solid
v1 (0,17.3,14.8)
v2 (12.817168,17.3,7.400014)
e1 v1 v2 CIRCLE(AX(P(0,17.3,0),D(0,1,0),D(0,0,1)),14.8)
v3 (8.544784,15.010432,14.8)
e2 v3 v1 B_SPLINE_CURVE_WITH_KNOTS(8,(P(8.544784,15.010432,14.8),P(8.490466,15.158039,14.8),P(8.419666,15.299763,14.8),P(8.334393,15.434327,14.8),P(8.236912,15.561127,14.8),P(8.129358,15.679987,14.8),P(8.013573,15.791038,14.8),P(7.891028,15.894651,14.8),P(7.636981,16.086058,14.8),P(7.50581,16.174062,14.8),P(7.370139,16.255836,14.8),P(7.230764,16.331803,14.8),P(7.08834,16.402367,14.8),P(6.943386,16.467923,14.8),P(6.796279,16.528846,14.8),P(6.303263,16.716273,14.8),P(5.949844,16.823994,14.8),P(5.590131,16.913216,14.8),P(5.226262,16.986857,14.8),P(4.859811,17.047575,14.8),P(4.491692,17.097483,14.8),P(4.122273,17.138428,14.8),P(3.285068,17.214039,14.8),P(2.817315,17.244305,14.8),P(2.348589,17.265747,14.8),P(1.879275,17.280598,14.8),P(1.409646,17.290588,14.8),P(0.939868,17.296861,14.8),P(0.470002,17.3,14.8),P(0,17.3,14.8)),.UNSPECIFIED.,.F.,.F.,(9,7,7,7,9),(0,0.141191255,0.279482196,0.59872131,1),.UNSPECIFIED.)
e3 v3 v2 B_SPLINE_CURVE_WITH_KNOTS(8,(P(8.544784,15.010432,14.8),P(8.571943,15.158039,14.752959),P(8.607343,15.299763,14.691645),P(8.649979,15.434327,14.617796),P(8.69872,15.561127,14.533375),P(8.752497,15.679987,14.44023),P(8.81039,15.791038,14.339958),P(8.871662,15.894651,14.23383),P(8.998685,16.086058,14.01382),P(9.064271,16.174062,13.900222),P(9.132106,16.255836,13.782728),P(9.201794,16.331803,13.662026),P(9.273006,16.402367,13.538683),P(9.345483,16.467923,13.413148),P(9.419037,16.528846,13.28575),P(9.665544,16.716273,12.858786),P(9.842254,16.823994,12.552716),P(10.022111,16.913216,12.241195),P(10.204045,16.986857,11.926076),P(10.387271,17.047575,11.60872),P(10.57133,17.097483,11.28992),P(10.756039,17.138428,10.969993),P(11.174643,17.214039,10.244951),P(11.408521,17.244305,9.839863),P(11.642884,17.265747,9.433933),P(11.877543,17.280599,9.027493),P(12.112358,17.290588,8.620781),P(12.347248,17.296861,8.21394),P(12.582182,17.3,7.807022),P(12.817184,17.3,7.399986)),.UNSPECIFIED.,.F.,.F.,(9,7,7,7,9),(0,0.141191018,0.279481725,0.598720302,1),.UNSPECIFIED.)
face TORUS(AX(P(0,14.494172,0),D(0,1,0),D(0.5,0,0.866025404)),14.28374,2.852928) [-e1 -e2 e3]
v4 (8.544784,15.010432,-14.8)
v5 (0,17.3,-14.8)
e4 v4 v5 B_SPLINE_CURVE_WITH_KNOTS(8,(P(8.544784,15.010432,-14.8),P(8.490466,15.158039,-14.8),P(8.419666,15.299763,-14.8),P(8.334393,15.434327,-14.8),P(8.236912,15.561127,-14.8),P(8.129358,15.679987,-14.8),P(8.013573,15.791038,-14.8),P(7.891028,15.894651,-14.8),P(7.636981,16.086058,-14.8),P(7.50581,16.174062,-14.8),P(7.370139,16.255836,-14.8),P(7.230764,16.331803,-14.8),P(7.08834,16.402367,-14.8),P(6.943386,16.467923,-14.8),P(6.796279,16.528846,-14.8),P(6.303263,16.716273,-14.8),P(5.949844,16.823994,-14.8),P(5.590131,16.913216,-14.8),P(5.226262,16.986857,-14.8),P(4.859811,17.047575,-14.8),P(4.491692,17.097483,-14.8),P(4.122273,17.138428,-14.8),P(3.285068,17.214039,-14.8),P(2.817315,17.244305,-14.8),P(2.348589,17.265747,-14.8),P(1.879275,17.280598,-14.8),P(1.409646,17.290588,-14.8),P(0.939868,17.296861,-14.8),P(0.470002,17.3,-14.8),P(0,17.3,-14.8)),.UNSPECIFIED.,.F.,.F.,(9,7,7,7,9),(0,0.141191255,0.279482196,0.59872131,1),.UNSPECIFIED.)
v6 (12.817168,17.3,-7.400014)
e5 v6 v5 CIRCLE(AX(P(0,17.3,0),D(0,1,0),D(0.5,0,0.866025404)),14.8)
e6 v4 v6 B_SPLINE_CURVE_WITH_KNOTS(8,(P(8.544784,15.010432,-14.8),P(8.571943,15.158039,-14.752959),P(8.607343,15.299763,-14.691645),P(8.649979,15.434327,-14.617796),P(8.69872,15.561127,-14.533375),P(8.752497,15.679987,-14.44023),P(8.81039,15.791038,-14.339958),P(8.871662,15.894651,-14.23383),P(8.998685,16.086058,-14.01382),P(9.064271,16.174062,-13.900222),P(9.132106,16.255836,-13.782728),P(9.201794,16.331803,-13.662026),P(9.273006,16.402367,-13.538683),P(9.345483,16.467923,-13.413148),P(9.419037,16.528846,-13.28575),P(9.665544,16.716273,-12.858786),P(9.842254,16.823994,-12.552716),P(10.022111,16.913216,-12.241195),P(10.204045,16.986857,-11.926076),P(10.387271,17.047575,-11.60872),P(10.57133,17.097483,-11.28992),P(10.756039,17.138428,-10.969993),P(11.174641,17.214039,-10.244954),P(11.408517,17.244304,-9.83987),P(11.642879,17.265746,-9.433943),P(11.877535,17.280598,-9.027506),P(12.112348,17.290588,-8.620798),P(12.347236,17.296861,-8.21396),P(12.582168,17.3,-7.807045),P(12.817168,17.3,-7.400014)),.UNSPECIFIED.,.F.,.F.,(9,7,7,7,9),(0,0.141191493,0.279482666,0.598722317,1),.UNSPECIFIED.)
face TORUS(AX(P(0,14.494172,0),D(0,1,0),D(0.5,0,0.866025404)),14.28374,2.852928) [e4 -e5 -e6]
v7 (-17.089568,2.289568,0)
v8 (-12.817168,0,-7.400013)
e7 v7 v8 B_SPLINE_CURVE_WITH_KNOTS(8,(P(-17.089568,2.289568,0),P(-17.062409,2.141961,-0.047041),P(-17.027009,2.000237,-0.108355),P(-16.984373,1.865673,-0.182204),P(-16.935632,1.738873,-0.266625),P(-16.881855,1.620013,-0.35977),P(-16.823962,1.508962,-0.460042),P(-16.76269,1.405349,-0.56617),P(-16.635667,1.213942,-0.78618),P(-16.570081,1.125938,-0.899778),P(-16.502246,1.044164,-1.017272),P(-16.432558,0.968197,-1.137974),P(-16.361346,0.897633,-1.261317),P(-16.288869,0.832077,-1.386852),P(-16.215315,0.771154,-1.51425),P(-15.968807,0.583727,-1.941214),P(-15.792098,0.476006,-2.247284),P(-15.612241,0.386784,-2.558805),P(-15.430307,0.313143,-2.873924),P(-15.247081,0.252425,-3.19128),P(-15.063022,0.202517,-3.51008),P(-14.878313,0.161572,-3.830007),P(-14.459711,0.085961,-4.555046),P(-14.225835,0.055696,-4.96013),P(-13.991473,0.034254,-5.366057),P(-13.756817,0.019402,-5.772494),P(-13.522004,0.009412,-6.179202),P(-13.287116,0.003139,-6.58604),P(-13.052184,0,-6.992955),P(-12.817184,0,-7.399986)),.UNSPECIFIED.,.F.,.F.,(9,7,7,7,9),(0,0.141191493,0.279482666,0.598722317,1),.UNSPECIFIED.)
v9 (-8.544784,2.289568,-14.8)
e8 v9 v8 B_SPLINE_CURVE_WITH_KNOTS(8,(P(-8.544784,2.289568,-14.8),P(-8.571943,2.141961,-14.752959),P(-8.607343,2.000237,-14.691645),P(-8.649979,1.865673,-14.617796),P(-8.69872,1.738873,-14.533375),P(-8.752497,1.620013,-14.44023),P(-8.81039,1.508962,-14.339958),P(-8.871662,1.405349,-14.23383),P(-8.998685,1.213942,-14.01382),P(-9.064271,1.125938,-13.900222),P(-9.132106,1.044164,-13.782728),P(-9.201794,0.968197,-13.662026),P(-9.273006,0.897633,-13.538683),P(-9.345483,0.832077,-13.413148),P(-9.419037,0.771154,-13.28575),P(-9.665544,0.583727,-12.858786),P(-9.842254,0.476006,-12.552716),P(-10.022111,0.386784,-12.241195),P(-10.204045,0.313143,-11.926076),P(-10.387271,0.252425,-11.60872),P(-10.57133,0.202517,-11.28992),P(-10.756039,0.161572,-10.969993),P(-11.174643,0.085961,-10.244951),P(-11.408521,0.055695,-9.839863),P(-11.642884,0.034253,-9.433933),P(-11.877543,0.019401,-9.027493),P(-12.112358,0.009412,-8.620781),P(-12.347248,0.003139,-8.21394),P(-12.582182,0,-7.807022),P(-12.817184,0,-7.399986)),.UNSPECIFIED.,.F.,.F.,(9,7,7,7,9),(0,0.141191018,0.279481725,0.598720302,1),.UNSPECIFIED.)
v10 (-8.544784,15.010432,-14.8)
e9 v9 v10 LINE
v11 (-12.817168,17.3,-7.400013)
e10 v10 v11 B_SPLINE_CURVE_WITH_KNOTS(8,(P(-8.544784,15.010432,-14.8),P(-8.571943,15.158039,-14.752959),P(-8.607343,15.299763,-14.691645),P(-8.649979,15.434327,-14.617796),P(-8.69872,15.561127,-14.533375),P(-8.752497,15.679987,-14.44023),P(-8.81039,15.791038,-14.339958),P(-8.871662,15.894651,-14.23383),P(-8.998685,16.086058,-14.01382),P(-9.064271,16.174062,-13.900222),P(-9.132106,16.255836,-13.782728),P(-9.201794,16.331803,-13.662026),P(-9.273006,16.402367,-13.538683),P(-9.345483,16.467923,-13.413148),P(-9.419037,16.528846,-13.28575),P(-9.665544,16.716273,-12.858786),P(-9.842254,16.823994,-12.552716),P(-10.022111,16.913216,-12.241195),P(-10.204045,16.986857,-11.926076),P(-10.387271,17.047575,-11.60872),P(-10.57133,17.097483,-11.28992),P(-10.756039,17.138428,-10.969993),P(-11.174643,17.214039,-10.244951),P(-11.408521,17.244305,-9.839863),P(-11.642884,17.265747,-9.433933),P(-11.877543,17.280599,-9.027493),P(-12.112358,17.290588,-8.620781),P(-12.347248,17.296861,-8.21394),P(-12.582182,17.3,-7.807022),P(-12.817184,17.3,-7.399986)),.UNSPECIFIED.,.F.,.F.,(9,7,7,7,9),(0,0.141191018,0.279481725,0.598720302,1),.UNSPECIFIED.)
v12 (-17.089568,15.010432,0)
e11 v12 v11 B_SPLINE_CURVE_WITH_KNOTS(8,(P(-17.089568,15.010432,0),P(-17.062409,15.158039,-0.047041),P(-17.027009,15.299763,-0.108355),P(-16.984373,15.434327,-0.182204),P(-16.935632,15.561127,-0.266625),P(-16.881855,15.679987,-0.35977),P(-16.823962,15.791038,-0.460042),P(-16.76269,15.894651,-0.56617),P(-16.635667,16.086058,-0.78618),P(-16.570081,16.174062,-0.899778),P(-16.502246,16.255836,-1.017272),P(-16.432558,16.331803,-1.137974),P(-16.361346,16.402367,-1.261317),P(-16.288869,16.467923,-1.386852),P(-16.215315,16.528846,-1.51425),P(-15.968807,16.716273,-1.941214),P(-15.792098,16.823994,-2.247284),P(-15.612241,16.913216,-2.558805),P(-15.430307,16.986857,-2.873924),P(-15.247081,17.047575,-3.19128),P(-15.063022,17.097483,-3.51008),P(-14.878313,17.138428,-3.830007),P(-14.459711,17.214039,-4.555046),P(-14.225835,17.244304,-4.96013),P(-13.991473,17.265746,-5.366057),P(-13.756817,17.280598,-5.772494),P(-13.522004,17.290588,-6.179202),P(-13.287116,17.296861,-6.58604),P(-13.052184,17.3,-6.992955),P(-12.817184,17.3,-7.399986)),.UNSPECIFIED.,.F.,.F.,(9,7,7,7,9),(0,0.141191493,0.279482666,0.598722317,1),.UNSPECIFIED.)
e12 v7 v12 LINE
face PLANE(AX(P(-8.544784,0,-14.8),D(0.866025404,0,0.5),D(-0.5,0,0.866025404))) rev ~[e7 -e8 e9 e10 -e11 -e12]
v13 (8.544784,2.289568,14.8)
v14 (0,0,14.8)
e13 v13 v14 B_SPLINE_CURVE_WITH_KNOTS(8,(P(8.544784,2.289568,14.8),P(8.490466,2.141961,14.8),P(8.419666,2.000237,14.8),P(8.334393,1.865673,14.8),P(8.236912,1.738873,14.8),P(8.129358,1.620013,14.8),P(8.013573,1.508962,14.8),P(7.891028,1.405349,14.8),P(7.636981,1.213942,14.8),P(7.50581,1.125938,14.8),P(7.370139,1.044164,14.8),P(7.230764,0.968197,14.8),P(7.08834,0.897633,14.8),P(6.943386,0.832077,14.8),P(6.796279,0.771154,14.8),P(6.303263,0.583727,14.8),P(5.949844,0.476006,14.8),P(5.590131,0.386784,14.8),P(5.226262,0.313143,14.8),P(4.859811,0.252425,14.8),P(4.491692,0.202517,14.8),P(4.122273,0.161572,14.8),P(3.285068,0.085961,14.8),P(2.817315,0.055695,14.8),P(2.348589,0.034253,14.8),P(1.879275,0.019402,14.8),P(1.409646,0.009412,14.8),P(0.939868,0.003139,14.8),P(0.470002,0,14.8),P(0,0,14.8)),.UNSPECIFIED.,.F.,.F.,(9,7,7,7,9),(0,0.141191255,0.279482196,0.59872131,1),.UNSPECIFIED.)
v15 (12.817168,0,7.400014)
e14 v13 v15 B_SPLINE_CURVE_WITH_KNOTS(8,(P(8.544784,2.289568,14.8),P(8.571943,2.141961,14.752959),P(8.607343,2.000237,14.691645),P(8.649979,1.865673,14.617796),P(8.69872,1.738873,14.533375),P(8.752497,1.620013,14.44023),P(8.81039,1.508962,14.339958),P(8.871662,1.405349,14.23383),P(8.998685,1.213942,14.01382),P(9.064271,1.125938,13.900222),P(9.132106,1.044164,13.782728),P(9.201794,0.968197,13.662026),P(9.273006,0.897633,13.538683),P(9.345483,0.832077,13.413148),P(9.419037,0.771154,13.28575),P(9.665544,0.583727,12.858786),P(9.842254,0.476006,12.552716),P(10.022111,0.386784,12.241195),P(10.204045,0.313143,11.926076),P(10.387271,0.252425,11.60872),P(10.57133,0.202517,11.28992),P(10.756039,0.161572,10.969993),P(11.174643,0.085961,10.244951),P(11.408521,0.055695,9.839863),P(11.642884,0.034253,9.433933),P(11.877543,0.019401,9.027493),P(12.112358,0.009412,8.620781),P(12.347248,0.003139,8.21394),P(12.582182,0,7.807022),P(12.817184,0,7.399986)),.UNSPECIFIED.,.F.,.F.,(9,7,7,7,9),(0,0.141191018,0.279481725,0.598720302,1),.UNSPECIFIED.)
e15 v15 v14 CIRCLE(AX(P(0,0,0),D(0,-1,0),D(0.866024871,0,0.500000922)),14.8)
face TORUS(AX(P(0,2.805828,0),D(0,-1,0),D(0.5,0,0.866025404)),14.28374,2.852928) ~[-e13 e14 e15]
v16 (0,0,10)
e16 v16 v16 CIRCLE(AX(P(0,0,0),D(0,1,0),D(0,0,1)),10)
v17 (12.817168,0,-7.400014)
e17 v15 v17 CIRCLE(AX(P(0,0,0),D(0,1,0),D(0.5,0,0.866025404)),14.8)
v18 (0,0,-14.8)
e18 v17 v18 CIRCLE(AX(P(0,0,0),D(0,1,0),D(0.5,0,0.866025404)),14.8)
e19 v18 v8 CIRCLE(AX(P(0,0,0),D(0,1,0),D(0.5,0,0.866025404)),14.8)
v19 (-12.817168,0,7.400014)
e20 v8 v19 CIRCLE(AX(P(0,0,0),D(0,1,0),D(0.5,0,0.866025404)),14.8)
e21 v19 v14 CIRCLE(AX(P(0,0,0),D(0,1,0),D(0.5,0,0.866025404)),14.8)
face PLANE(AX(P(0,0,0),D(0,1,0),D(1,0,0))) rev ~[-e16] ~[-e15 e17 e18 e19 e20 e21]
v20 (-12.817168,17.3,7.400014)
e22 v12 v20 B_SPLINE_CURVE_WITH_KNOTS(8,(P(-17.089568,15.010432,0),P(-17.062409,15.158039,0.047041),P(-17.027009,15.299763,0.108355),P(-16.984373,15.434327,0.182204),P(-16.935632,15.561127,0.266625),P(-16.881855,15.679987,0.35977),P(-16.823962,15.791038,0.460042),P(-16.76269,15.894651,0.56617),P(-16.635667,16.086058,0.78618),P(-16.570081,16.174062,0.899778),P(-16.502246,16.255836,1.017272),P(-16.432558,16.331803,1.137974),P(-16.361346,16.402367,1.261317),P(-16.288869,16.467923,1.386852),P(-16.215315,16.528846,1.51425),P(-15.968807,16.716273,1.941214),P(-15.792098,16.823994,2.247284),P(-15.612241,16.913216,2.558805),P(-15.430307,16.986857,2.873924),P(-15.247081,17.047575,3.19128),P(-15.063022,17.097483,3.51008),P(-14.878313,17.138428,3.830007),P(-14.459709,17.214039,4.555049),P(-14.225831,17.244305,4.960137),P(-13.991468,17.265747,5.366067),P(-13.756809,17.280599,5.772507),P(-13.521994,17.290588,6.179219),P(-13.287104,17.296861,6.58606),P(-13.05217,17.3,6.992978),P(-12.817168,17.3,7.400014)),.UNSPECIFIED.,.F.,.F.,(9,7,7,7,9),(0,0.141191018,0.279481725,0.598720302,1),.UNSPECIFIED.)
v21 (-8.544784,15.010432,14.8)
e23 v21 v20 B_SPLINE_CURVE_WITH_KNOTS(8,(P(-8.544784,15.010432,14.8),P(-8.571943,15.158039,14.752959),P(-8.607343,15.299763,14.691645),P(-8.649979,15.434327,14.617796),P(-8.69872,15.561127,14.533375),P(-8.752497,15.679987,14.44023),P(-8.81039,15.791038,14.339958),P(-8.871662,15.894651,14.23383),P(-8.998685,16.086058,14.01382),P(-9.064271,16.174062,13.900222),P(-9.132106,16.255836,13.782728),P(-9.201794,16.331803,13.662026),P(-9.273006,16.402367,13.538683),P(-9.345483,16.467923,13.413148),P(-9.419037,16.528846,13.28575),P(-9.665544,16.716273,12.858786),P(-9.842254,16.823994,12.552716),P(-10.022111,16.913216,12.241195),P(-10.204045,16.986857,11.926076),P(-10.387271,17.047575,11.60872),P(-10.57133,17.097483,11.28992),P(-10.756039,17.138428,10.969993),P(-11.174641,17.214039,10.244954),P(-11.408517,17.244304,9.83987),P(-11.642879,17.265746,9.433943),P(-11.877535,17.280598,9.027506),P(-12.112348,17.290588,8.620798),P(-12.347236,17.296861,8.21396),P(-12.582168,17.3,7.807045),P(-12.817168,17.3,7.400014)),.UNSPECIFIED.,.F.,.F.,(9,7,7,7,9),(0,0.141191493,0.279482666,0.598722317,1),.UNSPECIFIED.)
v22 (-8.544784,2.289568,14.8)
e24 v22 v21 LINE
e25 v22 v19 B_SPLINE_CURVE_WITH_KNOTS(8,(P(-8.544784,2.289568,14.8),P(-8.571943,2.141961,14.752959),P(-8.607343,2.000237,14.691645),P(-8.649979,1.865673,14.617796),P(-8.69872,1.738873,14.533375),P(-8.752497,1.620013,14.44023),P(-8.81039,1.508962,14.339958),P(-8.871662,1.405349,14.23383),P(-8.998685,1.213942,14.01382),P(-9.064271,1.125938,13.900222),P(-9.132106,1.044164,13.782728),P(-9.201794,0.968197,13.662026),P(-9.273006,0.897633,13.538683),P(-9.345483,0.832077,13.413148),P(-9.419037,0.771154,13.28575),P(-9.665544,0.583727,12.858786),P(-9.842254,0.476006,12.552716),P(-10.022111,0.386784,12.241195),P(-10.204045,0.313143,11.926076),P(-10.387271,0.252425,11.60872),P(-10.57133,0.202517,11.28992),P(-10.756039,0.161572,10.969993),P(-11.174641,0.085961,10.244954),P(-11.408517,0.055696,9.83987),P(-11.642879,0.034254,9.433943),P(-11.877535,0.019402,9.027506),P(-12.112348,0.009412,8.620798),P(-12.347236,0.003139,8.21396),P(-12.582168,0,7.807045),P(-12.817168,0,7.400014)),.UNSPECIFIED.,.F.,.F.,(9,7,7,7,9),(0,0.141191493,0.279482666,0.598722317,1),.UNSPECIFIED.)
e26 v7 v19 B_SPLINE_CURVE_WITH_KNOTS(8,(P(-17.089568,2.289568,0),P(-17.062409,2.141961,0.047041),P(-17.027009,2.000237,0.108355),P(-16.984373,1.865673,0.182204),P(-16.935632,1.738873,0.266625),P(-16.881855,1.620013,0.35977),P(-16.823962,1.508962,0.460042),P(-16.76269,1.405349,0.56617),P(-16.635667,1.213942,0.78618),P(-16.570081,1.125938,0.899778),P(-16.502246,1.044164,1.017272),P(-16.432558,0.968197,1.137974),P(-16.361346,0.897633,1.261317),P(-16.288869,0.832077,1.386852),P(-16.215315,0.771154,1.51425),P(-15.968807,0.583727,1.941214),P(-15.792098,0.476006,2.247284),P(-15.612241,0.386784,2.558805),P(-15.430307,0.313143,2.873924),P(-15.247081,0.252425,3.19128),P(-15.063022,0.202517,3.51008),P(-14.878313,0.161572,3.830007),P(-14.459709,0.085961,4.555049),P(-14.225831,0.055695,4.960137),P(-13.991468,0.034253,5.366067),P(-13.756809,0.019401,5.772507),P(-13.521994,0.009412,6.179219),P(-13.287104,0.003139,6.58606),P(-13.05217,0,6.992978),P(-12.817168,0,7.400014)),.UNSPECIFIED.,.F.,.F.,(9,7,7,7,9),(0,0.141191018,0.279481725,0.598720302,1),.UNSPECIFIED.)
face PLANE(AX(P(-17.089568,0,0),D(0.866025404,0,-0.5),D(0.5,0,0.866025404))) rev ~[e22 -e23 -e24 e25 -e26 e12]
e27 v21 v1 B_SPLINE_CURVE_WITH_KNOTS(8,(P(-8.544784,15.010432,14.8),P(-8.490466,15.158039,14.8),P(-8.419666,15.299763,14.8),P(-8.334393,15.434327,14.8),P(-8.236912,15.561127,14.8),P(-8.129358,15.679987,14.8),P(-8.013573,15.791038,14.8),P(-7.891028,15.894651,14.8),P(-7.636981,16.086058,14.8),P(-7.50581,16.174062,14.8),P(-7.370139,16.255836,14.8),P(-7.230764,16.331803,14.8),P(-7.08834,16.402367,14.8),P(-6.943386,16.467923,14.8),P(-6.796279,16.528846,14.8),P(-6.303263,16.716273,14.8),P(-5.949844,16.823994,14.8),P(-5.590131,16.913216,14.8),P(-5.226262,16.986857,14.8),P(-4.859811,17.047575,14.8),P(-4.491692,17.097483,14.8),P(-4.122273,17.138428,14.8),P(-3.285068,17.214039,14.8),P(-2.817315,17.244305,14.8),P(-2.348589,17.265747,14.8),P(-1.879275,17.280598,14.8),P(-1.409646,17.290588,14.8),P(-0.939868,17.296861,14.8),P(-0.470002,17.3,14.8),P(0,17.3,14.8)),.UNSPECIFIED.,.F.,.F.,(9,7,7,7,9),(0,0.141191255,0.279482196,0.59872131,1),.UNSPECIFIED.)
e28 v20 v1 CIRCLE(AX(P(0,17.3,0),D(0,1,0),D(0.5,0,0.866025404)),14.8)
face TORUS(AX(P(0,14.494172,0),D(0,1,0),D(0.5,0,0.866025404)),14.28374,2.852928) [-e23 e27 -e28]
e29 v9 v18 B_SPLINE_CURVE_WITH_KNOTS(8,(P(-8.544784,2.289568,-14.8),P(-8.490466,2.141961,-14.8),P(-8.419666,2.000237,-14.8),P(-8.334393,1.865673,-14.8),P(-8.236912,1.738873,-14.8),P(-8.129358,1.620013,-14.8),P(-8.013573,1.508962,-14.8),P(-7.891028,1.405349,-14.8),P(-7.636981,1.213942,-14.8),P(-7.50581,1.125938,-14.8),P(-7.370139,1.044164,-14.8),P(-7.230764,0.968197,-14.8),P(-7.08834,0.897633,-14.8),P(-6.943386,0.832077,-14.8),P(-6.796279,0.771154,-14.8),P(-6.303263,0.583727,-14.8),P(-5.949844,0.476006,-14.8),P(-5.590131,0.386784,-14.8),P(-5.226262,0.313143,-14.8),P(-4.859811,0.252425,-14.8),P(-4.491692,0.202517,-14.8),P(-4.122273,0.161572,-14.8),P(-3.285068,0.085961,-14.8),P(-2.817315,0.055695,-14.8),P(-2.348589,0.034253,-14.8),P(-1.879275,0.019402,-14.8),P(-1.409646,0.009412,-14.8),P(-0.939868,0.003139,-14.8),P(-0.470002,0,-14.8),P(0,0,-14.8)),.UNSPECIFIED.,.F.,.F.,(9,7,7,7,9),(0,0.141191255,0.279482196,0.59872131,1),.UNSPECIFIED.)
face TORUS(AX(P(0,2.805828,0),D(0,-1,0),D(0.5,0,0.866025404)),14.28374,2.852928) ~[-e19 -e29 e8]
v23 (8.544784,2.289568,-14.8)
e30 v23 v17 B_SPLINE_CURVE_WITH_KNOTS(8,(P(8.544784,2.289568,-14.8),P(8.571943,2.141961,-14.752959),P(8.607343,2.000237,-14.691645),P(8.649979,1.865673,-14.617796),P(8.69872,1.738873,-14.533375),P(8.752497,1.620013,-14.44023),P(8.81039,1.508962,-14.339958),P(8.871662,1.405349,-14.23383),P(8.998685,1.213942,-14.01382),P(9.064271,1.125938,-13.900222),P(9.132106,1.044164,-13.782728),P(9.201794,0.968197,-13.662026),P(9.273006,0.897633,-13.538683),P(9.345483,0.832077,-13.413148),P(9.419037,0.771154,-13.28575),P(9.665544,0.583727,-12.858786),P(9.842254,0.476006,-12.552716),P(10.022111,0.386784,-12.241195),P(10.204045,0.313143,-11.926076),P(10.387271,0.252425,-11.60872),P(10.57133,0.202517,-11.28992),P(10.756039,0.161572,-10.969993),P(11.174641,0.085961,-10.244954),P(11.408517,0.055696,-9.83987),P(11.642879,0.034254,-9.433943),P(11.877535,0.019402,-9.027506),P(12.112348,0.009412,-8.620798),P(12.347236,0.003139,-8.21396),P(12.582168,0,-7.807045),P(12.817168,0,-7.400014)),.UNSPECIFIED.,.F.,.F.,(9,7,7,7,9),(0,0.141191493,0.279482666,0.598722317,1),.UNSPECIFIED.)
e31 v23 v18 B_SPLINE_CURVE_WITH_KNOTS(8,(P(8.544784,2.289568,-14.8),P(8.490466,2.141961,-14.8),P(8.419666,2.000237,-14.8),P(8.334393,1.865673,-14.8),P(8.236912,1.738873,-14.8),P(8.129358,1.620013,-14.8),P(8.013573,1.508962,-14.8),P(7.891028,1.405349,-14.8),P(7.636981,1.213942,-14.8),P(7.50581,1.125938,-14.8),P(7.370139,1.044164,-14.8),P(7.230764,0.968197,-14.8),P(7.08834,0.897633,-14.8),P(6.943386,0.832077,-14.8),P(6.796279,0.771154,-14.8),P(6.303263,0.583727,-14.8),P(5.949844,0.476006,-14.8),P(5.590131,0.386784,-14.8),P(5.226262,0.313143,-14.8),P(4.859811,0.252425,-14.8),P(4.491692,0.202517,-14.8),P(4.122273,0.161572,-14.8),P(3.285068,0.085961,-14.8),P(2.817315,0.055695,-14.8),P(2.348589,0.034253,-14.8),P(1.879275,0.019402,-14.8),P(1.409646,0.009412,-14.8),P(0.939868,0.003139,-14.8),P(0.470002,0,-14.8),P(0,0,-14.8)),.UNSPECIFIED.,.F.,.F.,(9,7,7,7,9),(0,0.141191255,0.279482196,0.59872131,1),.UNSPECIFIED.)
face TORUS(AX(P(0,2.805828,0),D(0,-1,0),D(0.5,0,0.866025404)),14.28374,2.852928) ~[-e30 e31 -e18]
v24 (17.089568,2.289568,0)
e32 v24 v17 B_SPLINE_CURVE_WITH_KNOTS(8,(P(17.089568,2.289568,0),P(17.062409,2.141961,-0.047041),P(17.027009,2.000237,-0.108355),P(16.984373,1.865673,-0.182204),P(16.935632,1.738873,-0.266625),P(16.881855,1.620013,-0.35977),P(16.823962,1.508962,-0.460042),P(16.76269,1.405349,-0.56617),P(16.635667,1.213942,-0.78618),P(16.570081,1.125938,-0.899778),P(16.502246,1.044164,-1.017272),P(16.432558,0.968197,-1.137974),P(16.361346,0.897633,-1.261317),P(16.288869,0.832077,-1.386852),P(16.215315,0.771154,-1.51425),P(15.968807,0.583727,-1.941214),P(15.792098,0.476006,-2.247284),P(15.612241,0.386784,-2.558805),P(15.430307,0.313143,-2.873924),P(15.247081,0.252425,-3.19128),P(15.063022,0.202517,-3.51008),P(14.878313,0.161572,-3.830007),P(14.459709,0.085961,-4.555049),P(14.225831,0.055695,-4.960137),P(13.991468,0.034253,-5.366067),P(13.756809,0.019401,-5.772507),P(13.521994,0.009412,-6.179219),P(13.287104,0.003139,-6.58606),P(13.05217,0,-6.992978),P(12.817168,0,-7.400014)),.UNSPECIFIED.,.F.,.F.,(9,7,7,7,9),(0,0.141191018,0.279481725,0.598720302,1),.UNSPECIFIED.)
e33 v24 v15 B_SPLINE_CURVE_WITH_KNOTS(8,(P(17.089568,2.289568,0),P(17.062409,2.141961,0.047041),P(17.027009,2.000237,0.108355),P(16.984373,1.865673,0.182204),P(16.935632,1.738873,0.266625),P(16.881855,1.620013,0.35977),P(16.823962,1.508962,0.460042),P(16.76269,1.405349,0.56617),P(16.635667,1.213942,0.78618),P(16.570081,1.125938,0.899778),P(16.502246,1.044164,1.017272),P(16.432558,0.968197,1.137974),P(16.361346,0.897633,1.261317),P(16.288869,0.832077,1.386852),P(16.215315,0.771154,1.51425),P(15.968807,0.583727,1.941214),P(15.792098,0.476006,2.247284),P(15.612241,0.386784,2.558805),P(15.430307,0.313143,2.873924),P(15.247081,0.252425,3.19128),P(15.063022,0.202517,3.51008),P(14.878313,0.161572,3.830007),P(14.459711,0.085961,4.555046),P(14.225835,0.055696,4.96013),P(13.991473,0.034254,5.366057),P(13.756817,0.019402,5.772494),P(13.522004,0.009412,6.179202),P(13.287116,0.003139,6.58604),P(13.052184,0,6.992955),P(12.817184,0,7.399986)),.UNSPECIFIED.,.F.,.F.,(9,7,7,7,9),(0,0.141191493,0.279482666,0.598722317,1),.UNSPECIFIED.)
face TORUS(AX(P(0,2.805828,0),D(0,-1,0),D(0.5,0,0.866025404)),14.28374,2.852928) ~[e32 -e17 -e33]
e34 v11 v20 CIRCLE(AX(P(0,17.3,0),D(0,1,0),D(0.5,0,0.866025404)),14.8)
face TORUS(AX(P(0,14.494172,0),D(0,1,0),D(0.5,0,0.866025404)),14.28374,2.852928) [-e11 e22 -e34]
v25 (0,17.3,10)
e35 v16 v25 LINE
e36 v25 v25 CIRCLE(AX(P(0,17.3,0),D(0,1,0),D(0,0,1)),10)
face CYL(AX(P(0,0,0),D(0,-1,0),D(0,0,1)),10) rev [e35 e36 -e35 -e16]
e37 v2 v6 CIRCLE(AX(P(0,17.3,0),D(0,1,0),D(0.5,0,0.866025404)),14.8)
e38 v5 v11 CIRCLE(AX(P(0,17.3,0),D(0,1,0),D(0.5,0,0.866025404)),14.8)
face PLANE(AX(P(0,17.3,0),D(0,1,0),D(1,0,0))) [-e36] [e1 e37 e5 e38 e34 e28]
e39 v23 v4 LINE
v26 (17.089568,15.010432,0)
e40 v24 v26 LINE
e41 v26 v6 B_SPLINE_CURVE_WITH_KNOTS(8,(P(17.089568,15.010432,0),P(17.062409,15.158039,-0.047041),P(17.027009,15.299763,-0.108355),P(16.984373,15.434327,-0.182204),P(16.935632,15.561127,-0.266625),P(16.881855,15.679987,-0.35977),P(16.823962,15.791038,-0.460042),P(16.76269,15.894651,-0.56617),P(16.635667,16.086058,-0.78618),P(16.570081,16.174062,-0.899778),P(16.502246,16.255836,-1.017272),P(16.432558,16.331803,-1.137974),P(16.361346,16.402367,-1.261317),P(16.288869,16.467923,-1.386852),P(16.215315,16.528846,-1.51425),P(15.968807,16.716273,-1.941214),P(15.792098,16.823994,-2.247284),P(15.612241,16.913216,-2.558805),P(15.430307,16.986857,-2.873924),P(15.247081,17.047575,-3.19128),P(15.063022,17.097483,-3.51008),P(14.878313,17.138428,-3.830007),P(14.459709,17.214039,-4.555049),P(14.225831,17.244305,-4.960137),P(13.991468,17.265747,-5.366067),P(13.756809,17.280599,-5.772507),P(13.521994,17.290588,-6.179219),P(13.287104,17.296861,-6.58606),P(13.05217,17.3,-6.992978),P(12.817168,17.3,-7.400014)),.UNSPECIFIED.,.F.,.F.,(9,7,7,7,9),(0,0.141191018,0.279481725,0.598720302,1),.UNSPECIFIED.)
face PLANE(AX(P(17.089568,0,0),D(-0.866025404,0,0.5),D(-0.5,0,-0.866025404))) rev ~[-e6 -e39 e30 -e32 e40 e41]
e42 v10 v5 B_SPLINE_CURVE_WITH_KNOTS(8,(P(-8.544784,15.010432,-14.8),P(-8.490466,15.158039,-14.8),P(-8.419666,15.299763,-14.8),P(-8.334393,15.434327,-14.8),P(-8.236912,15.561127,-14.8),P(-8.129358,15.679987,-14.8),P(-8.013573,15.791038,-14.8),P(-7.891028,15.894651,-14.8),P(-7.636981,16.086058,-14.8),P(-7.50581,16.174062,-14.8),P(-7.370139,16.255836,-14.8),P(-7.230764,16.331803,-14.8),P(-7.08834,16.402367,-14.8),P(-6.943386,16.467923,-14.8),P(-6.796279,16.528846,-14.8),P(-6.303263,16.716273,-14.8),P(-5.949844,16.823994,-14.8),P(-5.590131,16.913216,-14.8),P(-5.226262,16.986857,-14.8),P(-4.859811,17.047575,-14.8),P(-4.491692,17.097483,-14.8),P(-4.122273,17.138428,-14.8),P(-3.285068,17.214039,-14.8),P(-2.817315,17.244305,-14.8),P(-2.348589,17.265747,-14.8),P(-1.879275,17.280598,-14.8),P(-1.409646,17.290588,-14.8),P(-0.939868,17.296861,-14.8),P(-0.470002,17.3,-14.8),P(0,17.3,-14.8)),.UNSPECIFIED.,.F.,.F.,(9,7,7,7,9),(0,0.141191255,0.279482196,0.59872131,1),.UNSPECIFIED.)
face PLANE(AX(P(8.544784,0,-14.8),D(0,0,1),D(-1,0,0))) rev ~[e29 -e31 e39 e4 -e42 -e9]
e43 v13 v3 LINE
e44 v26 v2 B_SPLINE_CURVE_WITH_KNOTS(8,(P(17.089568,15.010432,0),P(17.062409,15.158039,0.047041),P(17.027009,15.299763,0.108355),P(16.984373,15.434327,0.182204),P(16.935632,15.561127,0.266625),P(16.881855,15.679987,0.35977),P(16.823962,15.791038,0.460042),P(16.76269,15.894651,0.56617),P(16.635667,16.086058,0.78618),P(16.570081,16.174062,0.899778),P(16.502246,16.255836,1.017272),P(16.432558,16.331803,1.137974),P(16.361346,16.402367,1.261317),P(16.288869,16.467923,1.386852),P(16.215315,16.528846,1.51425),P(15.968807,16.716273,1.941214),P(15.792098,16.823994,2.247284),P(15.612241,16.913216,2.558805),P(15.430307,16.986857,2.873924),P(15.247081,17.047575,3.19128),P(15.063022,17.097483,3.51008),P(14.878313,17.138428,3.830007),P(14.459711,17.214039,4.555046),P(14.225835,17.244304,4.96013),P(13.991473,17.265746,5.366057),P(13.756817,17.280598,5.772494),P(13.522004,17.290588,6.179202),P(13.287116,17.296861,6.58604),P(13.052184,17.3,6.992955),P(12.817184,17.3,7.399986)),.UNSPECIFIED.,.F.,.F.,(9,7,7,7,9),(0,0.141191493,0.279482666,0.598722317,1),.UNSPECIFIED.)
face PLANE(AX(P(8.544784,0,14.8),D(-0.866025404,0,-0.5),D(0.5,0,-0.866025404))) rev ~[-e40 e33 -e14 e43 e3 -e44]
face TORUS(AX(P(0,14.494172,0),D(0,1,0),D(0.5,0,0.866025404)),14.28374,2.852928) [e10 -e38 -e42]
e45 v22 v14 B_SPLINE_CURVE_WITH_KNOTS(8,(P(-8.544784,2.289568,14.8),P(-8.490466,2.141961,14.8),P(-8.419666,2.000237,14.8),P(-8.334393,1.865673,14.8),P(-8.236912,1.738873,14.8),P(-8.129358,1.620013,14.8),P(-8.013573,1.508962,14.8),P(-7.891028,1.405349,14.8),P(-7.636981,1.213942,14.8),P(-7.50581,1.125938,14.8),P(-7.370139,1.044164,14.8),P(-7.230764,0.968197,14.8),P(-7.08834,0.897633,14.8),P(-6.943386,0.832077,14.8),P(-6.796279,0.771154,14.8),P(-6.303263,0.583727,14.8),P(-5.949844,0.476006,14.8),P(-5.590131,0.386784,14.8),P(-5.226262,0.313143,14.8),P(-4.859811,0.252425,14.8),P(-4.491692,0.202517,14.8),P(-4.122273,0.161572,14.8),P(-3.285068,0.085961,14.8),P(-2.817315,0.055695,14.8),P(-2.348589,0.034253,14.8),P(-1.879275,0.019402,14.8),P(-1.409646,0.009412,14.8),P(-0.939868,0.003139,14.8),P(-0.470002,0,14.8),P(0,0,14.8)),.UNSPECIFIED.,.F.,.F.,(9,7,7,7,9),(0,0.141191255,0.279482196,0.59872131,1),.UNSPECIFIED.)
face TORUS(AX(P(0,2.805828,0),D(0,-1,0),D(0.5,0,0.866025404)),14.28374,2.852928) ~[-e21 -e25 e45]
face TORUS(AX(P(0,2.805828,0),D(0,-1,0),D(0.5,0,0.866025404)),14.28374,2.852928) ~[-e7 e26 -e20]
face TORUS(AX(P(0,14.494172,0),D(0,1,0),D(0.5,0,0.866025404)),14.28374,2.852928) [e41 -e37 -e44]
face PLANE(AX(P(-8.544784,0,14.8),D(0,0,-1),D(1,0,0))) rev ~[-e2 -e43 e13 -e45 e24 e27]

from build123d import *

# Parameters (mm, degrees)
SKETCH_1_R      = 10
EXTRUDE_1_DEPTH = 17.3


with BuildPart() as part:
    # 草图1 → 凸台-拉伸1 (new body)
    with BuildSketch(Plane(origin=(0, 0, 0), x_dir=(1, 0, 0), z_dir=(0, 1, 0))):
        Polygon((17.089567968, 0), (8.544783984, 14.8), (-8.544783984, 14.8), (-17.089567968, 0), (-8.544783984, -14.8), (8.544783984, -14.8), align=None)
        with Locations(Location((0, 0, 0), (0, 0, 270))):
            Circle(SKETCH_1_R, mode=Mode.SUBTRACT)
    extrude(amount=EXTRUDE_1_DEPTH)

    # 草图3 → 切除-旋转4 (revolve, cut)
    with BuildSketch(Plane(origin=(0, 0, 0), x_dir=(-0.5000000000000007, 0, -0.8660254037844383), z_dir=(0.8660254037844383, 0, -0.5000000000000007))):
        with BuildLine():
            Line((-14.8, 17.3), (-14.8, 17.928720004))
            Line((-14.8, 17.928720004), (-17.799472335, 17.928720004))
            Line((-17.799472335, 17.928720004), (-17.799472335, 15.010432032))
            Line((-17.799472335, 15.010432032), (-17.089567968, 15.010432032))
            ThreePointArc((-17.089567968, 15.010432032), (-16.301064282, 16.511496314), (-14.8, 17.3))
        make_face()
        with BuildLine():
            Line((-17.799472335, 2.289567968), (-17.089567968, 2.289567968))
            ThreePointArc((-17.089567968, 2.289567968), (-16.301064282, 0.788503686), (-14.8, 0))
            Line((-14.8, 0), (-14.8, -0.628720004))
            Line((-14.8, -0.628720004), (-17.799472335, -0.628720004))
            Line((-17.799472335, -0.628720004), (-17.799472335, 2.289567968))
        make_face()
    revolve(axis=Axis((0, 0, 0), (0, 1, 0)), mode=Mode.SUBTRACT)


solid = part.part
